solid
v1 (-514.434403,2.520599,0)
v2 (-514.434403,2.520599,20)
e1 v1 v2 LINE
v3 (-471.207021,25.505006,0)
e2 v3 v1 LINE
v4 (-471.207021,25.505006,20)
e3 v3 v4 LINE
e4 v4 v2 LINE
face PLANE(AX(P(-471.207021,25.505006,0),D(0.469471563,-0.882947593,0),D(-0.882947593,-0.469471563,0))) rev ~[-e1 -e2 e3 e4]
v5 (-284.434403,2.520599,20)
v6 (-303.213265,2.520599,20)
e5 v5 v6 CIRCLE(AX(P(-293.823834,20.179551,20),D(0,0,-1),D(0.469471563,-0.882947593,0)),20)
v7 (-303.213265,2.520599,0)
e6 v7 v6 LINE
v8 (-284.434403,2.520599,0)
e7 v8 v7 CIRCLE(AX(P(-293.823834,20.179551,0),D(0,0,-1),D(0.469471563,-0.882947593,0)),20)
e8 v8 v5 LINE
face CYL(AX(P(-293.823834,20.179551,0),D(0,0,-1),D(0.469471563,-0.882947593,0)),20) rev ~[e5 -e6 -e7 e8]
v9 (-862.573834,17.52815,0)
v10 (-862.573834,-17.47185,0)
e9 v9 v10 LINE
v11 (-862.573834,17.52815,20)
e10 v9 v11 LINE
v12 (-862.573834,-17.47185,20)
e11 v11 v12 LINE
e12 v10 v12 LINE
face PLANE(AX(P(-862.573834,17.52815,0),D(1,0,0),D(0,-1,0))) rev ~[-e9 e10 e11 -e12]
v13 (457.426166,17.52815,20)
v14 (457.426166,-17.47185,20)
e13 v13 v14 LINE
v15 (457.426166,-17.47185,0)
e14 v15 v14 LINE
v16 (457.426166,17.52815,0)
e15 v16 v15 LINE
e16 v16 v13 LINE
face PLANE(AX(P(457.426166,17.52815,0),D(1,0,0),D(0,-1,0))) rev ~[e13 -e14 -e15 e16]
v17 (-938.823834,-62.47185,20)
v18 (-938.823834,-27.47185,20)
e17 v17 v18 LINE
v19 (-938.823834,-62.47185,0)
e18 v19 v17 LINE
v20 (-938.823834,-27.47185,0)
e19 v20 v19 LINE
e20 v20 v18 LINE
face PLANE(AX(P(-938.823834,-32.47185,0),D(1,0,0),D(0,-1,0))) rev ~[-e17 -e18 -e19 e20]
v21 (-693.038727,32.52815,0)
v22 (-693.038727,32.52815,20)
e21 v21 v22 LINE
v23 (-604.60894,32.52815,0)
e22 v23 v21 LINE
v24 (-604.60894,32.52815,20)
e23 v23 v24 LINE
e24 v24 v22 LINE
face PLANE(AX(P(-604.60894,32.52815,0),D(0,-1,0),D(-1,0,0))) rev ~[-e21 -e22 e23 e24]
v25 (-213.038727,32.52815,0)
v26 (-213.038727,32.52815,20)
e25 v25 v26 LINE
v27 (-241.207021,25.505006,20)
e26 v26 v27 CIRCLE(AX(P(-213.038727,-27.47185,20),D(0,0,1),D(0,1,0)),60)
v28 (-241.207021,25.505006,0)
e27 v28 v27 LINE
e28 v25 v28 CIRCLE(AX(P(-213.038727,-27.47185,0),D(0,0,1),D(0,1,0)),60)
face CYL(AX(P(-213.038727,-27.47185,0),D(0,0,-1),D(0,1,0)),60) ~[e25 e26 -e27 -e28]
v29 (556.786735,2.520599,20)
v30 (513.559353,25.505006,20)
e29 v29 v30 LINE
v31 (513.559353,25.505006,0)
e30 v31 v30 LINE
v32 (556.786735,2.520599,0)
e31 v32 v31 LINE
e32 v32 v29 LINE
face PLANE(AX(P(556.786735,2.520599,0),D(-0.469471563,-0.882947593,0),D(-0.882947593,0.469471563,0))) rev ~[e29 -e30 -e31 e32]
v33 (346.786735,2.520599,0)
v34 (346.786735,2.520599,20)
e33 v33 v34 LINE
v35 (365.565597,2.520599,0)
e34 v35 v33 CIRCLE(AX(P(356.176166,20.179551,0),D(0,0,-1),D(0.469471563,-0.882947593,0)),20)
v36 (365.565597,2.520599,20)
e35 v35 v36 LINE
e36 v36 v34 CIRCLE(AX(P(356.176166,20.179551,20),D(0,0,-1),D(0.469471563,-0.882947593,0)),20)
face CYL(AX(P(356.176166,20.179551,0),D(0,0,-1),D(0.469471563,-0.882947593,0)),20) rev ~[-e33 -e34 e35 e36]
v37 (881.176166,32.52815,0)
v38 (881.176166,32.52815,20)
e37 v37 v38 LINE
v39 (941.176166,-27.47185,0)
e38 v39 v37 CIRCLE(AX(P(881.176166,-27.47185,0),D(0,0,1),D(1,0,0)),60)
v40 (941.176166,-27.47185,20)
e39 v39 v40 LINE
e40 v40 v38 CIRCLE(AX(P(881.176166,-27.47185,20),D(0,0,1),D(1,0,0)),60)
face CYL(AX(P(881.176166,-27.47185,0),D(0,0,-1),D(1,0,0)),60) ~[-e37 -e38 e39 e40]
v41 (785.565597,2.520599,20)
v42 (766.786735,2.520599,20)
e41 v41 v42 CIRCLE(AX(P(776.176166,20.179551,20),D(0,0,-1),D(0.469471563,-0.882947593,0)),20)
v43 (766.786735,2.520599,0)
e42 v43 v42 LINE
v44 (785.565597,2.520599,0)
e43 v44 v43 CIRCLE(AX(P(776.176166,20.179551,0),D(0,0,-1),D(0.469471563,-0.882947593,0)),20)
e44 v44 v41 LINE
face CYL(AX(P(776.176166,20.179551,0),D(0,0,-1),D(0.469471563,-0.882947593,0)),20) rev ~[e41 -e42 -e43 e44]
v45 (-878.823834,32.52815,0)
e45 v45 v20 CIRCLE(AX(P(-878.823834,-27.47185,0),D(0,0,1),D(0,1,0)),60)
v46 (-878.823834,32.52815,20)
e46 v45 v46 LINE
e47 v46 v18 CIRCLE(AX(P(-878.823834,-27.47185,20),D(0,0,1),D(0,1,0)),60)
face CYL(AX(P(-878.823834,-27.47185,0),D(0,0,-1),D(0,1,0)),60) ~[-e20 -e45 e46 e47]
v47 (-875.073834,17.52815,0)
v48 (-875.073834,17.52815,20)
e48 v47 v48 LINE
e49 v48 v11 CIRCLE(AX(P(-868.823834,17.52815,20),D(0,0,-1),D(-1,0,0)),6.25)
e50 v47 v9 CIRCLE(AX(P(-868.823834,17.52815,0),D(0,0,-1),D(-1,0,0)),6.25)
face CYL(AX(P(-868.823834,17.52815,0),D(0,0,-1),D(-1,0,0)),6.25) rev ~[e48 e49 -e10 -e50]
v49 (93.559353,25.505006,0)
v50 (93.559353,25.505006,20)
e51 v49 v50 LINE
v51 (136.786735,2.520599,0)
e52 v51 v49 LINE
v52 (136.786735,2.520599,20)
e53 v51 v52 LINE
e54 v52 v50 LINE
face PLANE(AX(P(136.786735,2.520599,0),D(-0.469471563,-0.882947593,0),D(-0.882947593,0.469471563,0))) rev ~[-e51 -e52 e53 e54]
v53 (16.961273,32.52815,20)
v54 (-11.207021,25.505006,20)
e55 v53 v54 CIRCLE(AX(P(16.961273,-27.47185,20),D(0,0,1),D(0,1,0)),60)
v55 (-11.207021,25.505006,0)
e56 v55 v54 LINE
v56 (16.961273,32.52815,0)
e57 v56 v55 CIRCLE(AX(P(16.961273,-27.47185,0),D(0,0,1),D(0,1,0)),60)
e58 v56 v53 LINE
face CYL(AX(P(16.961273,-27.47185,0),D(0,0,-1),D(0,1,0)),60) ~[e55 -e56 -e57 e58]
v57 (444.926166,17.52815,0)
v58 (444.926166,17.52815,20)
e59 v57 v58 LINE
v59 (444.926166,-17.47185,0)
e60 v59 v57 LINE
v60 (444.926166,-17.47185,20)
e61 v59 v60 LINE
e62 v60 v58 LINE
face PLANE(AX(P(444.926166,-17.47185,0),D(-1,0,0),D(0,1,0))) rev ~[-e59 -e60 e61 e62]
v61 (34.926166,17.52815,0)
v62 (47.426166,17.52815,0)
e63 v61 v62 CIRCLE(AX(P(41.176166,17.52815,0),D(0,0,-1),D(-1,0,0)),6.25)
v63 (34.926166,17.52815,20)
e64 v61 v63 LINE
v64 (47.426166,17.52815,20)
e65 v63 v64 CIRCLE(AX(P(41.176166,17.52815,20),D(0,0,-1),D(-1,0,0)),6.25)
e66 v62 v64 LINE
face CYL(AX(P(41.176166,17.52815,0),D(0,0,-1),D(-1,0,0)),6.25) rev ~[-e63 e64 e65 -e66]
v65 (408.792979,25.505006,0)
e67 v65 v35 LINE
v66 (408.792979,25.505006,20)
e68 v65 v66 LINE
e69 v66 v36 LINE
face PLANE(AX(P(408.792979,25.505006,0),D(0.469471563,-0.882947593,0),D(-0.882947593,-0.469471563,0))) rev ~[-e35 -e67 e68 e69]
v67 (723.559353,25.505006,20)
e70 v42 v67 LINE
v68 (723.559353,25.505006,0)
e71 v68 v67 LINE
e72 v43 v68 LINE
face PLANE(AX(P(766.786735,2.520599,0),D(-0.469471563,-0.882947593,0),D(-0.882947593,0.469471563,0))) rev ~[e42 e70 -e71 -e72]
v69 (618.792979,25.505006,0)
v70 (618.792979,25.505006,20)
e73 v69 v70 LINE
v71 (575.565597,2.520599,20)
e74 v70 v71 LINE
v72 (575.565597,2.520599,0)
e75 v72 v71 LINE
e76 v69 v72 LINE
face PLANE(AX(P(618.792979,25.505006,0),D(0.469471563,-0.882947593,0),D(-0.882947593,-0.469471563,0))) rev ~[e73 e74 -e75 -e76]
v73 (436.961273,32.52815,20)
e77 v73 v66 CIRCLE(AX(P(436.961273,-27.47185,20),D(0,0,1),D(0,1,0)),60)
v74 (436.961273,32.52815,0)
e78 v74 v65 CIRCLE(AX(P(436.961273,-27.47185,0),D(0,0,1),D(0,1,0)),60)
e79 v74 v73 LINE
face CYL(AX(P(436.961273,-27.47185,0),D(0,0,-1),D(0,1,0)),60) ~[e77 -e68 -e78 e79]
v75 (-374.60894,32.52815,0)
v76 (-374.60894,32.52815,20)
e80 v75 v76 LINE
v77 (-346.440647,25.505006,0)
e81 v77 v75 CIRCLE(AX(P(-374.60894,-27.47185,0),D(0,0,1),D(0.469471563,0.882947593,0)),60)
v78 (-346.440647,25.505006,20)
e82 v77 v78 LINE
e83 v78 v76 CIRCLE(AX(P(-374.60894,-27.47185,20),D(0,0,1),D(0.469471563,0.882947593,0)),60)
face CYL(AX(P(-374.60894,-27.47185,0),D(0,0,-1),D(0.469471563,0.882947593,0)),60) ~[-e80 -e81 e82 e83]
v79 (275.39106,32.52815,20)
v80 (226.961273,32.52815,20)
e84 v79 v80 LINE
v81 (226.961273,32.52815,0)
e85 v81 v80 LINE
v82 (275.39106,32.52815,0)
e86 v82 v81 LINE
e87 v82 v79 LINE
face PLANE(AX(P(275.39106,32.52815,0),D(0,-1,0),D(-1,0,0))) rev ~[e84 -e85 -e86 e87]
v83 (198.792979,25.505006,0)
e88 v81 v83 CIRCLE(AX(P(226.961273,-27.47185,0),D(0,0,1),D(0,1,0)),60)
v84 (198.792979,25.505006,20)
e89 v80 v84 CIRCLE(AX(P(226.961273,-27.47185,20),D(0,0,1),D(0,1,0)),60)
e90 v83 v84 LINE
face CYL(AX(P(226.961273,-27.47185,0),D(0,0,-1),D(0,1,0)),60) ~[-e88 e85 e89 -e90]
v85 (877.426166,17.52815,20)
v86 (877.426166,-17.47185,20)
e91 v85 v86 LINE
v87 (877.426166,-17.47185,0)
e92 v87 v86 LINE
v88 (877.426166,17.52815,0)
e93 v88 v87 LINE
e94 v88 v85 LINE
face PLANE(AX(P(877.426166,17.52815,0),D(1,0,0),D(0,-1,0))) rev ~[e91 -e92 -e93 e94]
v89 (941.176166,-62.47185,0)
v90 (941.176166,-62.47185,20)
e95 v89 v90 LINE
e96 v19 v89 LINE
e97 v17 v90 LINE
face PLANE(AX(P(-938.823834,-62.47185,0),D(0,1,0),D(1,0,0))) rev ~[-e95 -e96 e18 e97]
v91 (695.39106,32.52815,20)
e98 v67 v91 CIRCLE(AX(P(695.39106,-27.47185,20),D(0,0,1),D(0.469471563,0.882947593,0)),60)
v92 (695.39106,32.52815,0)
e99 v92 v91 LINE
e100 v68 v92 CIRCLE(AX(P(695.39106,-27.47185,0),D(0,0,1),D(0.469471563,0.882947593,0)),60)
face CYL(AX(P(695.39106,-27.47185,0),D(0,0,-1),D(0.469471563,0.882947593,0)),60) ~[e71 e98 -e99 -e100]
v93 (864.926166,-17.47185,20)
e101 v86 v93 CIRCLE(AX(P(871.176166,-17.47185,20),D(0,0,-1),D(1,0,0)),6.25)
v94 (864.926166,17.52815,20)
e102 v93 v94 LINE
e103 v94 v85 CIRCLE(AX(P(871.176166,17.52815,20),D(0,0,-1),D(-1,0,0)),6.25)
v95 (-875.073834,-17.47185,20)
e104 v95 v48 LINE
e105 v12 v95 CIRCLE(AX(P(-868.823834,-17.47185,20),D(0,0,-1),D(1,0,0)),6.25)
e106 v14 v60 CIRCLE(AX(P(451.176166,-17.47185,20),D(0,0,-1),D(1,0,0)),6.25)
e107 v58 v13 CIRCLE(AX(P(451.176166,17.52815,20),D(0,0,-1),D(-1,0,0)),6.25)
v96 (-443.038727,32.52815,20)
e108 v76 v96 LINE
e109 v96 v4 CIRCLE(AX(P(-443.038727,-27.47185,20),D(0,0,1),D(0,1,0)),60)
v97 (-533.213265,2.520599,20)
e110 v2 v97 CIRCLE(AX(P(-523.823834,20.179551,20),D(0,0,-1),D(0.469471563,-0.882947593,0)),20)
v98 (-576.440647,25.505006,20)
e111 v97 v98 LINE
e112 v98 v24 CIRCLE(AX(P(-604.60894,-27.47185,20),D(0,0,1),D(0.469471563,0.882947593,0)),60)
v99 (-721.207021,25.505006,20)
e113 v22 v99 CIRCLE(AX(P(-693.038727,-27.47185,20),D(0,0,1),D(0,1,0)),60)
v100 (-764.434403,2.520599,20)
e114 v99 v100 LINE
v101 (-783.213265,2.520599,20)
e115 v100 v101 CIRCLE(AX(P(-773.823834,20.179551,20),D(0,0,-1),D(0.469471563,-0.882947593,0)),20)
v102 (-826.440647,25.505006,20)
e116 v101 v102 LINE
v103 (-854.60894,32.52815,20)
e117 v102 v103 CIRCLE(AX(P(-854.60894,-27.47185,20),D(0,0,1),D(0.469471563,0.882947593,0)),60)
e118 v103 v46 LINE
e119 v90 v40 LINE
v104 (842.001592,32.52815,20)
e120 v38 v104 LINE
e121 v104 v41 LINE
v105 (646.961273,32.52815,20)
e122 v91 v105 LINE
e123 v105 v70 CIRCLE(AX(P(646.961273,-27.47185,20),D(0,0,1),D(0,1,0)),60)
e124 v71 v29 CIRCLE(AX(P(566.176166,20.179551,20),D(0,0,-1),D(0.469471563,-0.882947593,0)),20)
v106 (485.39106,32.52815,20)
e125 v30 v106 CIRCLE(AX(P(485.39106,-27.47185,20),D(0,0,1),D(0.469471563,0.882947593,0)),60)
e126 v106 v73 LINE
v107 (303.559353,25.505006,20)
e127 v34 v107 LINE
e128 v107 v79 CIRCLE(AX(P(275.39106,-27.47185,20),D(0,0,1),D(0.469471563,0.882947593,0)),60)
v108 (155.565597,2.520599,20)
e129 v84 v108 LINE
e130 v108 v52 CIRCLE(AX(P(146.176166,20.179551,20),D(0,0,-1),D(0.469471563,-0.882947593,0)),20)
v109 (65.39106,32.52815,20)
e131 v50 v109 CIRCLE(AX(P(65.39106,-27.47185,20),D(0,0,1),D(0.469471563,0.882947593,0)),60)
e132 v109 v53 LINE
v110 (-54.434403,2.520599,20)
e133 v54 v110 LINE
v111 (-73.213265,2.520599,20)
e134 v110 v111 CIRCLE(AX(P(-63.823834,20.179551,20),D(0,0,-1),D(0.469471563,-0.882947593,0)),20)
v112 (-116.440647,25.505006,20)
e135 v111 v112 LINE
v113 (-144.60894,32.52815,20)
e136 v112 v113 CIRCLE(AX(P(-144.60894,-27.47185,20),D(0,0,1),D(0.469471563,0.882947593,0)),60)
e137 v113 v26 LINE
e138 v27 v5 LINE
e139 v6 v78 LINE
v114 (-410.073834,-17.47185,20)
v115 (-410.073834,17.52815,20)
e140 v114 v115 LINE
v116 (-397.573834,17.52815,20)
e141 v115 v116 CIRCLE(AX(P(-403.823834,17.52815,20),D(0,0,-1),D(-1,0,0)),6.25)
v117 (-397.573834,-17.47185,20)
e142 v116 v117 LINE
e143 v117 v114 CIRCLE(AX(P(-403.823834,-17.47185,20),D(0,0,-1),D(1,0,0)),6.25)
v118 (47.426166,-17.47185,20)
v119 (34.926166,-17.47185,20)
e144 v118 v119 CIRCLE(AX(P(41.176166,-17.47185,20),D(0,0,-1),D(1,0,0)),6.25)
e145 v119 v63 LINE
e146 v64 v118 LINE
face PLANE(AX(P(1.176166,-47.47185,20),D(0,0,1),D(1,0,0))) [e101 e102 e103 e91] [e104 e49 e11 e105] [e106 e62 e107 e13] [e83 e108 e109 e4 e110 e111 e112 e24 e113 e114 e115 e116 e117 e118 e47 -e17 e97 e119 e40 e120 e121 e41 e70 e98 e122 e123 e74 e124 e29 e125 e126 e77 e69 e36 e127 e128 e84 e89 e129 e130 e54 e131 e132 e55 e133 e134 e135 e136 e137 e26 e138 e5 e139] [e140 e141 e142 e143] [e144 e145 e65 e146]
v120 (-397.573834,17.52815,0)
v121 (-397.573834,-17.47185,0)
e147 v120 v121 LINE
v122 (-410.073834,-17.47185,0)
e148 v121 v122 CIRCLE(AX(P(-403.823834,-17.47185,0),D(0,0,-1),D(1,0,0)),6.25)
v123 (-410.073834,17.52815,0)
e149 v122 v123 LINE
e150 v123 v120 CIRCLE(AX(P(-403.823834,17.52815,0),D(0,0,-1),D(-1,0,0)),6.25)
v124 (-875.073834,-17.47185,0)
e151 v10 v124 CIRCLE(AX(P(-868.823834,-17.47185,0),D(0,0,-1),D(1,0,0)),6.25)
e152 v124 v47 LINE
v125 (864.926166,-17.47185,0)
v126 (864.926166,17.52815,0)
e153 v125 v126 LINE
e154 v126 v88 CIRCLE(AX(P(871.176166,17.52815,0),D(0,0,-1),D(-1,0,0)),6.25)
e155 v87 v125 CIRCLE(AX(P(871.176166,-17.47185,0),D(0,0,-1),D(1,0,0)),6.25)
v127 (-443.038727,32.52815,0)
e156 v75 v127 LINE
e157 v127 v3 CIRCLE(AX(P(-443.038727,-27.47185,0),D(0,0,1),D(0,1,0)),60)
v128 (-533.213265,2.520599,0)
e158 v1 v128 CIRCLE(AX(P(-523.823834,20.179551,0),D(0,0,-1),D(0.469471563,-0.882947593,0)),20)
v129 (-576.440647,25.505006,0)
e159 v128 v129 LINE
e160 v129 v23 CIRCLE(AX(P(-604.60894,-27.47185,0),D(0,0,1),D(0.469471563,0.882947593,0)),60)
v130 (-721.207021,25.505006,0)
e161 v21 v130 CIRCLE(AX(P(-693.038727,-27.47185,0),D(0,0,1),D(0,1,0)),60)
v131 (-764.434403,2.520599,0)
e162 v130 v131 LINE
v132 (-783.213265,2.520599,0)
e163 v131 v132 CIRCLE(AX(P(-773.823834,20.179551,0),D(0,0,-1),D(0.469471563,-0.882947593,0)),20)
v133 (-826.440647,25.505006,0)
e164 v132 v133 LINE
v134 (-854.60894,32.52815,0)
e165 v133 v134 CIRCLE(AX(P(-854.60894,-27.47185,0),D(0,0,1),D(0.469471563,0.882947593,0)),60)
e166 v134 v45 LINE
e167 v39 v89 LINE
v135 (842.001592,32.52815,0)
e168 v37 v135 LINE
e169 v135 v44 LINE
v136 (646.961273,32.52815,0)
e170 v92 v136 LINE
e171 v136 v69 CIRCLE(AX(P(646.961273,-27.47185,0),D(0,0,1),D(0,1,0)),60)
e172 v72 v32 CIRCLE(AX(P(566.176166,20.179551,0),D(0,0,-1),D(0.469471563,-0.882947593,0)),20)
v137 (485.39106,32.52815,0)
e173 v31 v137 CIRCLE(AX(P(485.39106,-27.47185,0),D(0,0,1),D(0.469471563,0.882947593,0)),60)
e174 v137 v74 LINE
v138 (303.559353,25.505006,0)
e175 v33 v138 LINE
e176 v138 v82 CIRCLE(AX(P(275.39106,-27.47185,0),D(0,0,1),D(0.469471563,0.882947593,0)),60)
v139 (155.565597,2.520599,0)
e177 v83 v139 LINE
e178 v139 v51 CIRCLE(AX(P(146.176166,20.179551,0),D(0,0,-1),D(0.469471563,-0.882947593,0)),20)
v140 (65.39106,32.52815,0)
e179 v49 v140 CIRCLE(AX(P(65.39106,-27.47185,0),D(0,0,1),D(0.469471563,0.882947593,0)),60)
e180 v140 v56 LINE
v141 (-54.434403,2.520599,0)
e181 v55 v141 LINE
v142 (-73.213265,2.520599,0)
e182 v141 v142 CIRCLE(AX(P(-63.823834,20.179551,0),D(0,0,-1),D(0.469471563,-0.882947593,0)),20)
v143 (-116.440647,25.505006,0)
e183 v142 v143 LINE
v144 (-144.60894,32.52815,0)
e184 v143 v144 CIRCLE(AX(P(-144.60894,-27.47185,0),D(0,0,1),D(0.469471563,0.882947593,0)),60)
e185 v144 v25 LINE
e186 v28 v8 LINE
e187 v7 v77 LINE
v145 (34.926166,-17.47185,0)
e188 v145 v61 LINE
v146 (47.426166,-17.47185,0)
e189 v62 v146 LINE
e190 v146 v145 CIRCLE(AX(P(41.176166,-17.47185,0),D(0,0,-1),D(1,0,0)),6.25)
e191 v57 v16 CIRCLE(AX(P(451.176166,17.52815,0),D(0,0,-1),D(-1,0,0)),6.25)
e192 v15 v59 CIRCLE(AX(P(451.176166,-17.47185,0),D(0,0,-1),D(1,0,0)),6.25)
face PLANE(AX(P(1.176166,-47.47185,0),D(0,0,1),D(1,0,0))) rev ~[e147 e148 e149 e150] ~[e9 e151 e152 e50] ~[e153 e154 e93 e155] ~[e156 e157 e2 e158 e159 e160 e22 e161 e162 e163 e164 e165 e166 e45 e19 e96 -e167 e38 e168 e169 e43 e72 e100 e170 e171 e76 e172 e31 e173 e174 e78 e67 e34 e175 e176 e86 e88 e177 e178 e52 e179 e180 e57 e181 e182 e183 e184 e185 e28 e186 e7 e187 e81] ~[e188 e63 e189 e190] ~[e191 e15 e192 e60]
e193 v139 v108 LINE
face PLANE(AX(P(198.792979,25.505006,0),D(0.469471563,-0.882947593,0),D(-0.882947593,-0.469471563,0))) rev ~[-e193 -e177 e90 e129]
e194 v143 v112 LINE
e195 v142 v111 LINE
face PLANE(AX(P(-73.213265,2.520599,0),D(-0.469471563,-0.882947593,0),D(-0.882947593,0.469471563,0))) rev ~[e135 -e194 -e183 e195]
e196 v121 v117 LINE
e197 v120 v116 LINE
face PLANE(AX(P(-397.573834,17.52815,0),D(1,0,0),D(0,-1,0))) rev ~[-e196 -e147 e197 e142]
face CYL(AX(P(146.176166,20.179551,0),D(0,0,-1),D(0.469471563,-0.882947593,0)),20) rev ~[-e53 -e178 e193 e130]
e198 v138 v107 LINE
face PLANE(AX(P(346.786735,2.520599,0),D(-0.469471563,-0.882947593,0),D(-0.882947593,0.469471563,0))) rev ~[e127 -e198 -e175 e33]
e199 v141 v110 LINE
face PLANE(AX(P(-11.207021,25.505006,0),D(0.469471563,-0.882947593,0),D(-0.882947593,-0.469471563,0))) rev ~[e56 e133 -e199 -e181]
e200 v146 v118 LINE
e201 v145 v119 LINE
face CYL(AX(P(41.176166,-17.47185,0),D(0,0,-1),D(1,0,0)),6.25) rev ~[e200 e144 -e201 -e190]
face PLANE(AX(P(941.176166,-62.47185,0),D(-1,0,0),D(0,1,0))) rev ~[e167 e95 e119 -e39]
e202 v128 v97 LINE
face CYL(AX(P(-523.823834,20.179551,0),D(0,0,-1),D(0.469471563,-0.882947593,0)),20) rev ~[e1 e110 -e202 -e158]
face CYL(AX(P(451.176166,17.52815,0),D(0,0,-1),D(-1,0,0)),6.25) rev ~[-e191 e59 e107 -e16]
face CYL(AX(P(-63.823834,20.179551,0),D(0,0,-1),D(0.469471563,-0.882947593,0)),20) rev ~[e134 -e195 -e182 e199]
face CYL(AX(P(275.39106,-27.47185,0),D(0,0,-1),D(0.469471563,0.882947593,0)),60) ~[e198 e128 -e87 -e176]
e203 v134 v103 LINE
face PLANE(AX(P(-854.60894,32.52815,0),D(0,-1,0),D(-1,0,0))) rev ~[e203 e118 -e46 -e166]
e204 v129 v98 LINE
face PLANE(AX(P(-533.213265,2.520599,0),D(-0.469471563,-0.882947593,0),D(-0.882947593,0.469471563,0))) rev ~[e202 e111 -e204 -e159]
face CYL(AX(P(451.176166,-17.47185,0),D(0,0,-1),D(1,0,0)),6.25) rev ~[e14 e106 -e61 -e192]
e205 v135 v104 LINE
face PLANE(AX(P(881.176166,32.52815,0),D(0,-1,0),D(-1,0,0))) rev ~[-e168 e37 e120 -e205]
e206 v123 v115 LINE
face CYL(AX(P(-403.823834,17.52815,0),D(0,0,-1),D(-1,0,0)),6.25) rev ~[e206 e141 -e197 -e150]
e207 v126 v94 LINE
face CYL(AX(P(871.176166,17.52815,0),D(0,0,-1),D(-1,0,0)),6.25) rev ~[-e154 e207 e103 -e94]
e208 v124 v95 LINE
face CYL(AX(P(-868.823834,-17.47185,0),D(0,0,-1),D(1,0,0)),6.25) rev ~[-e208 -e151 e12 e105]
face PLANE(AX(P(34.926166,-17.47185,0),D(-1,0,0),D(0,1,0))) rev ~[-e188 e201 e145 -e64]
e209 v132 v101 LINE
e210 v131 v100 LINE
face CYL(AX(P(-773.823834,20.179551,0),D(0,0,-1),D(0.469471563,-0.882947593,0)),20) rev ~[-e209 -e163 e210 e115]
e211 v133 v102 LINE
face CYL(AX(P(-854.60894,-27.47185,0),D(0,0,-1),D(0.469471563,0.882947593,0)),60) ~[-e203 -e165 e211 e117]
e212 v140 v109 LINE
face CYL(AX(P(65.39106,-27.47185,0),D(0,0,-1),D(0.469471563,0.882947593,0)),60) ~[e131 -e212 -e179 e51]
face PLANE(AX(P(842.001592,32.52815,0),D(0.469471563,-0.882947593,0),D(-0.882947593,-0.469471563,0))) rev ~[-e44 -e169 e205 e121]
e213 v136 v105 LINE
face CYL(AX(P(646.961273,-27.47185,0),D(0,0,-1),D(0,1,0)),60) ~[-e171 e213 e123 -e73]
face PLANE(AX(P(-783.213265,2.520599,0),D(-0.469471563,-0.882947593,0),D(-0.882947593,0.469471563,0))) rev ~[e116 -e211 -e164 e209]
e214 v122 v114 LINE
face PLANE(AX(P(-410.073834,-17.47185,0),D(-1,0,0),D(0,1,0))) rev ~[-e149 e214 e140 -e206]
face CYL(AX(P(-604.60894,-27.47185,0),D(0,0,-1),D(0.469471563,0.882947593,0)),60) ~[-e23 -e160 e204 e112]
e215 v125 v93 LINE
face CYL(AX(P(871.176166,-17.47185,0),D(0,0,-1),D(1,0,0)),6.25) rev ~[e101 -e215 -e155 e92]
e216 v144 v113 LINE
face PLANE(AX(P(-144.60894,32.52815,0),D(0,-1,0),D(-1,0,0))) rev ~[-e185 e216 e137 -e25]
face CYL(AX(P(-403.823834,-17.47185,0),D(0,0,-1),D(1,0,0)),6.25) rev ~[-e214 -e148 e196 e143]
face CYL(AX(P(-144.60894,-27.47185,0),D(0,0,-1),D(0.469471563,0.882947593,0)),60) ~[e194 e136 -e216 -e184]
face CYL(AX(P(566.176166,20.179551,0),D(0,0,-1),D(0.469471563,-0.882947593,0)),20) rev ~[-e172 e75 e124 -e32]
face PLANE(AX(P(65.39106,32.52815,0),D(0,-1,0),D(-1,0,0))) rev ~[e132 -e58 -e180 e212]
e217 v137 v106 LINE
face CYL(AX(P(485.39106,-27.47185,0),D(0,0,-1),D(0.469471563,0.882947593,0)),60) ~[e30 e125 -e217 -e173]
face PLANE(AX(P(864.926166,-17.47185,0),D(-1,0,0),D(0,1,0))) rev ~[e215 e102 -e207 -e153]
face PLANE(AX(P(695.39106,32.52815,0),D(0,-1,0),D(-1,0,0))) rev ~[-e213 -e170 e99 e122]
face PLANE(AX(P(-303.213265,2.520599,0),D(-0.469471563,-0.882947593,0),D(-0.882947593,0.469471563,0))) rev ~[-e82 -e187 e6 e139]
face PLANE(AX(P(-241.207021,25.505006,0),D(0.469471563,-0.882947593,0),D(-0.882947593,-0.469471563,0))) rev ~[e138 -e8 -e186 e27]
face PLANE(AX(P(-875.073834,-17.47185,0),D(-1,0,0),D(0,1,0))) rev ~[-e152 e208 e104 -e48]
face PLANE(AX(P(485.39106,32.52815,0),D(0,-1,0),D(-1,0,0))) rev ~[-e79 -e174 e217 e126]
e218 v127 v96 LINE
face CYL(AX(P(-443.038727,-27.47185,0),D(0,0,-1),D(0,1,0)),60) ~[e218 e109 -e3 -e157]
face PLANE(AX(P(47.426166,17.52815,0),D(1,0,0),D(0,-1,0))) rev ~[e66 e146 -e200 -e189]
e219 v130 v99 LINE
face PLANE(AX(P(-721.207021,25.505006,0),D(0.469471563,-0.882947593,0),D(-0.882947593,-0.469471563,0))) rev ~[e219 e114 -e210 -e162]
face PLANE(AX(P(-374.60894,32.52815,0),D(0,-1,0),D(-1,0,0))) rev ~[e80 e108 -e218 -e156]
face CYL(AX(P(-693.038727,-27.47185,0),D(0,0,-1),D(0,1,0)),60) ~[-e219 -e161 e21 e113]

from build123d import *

# Parameters (mm, degrees)
RESSALTO_EXTRUS_O1_DEPTH = 20


with BuildPart() as part:
    # Esboço1 → Ressalto-extrusão1 (new body)
    # profile 1 of 2: a face of its own
    with BuildSketch(Plane.XY):
        with BuildLine():
            Line((-938.823833844, -27.471849847), (-938.823833844, -32.471849847))
            Line((-938.823833844, -32.471849847), (-936.823833844, -32.471849847))
            Line((-936.823833844, -32.471849847), (941.176166156, -32.471849847))
            Line((941.176166156, -32.471849847), (941.176166156, -27.471849847))
            ThreePointArc((941.176166156, -27.471849847), (923.602573027, 14.954557024), (881.176166156, 32.528150153))
            Line((881.176166156, 32.528150153), (846.261701379, 32.528150153))
            Line((846.261701379, 32.528150153), (842.001592443, 32.528150153))
            Line((842.001592443, 32.528150153), (785.565597412, 2.52059931))
            ThreePointArc((785.565597412, 2.52059931), (776.176166156, 0.179551167), (766.7867349, 2.52059931))
            Line((766.7867349, 2.52059931), (723.559353465, 25.505005725))
            ThreePointArc((723.559353465, 25.505005725), (709.906373434, 30.74589373), (695.391059698, 32.528150153))
            Line((695.391059698, 32.528150153), (646.961272614, 32.528150153))
            ThreePointArc((646.961272614, 32.528150153), (632.445958878, 30.74589373), (618.792978847, 25.505005725))
            Line((618.792978847, 25.505005725), (575.565597412, 2.52059931))
            ThreePointArc((575.565597412, 2.52059931), (566.176166156, 0.179551167), (556.7867349, 2.52059931))
            Line((556.7867349, 2.52059931), (513.559353465, 25.505005725))
            ThreePointArc((513.559353465, 25.505005725), (499.906373434, 30.74589373), (485.391059698, 32.528150153))
            Line((485.391059698, 32.528150153), (436.961272614, 32.528150153))
            ThreePointArc((436.961272614, 32.528150153), (422.445958878, 30.74589373), (408.792978847, 25.505005725))
            Line((408.792978847, 25.505005725), (365.565597412, 2.52059931))
            ThreePointArc((365.565597412, 2.52059931), (356.176166156, 0.179551167), (346.7867349, 2.52059931))
            Line((346.7867349, 2.52059931), (303.559353465, 25.505005725))
            ThreePointArc((303.559353465, 25.505005725), (289.906373434, 30.74589373), (275.391059698, 32.528150153))
            Line((275.391059698, 32.528150153), (226.961272614, 32.528150153))
            ThreePointArc((226.961272614, 32.528150153), (212.445958878, 30.74589373), (198.792978847, 25.505005725))
            Line((198.792978847, 25.505005725), (155.565597412, 2.52059931))
            ThreePointArc((155.565597412, 2.52059931), (146.176166156, 0.179551167), (136.7867349, 2.52059931))
            Line((136.7867349, 2.52059931), (93.559353465, 25.505005725))
            ThreePointArc((93.559353465, 25.505005725), (79.906373434, 30.74589373), (65.391059698, 32.528150153))
            Line((65.391059698, 32.528150153), (16.961272614, 32.528150153))
            ThreePointArc((16.961272614, 32.528150153), (2.445958878, 30.74589373), (-11.207021153, 25.505005725))
            Line((-11.207021153, 25.505005725), (-54.434402588, 2.52059931))
            ThreePointArc((-54.434402588, 2.52059931), (-63.823833844, 0.179551167), (-73.2132651, 2.52059931))
            Line((-73.2132651, 2.52059931), (-116.440646535, 25.505005725))
            ThreePointArc((-116.440646535, 25.505005725), (-130.093626566, 30.74589373), (-144.608940302, 32.528150153))
            Line((-144.608940302, 32.528150153), (-213.038727386, 32.528150153))
            ThreePointArc((-213.038727386, 32.528150153), (-227.554041122, 30.74589373), (-241.207021153, 25.505005725))
            Line((-241.207021153, 25.505005725), (-284.434402588, 2.52059931))
            ThreePointArc((-284.434402588, 2.52059931), (-293.823833844, 0.179551167), (-303.2132651, 2.52059931))
            Line((-303.2132651, 2.52059931), (-346.440646535, 25.505005725))
            ThreePointArc((-346.440646535, 25.505005725), (-360.093626566, 30.74589373), (-374.608940302, 32.528150153))
            Line((-374.608940302, 32.528150153), (-443.038727386, 32.528150153))
            ThreePointArc((-443.038727386, 32.528150153), (-457.554041122, 30.74589373), (-471.207021153, 25.505005725))
            Line((-471.207021153, 25.505005725), (-514.434402588, 2.52059931))
            ThreePointArc((-514.434402588, 2.52059931), (-523.823833844, 0.179551167), (-533.2132651, 2.52059931))
            Line((-533.2132651, 2.52059931), (-576.440646535, 25.505005725))
            ThreePointArc((-576.440646535, 25.505005725), (-590.093626566, 30.74589373), (-604.608940302, 32.528150153))
            Line((-604.608940302, 32.528150153), (-693.038727386, 32.528150153))
            ThreePointArc((-693.038727386, 32.528150153), (-707.554041122, 30.74589373), (-721.207021153, 25.505005725))
            Line((-721.207021153, 25.505005725), (-764.434402588, 2.52059931))
            ThreePointArc((-764.434402588, 2.52059931), (-773.823833844, 0.179551167), (-783.2132651, 2.52059931))
            Line((-783.2132651, 2.52059931), (-826.440646535, 25.505005725))
            ThreePointArc((-826.440646535, 25.505005725), (-840.093626566, 30.74589373), (-854.608940302, 32.528150153))
            Line((-854.608940302, 32.528150153), (-878.823833844, 32.528150153))
            ThreePointArc((-878.823833844, 32.528150153), (-921.250240715, 14.954557024), (-938.823833844, -27.471849847))
        make_face()
        with BuildLine():
            ThreePointArc((-875.073833844, 17.528150153), (-868.823833844, 23.778150153), (-862.573833844, 17.528150153))
            Line((-862.573833844, 17.528150153), (-862.573833844, -17.471849847))
            ThreePointArc((-862.573833844, -17.471849847), (-868.823833844, -23.721849847), (-875.073833844, -17.471849847))
            Line((-875.073833844, -17.471849847), (-875.073833844, 17.528150153))
        make_face(mode=Mode.SUBTRACT)
        with BuildLine():
            ThreePointArc((-410.073833844, 17.528150153), (-403.823833844, 23.778150153), (-397.573833844, 17.528150153))
            Line((-397.573833844, 17.528150153), (-397.573833844, -17.471849847))
            ThreePointArc((-397.573833844, -17.471849847), (-403.823833844, -23.721849847), (-410.073833844, -17.471849847))
            Line((-410.073833844, -17.471849847), (-410.073833844, 17.528150153))
        make_face(mode=Mode.SUBTRACT)
        with BuildLine():
            ThreePointArc((47.426166156, -17.471849847), (41.176166156, -23.721849847), (34.926166156, -17.471849847))
            Line((34.926166156, -17.471849847), (34.926166156, 17.528150153))
            ThreePointArc((34.926166156, 17.528150153), (41.176166156, 23.778150153), (47.426166156, 17.528150153))
            Line((47.426166156, 17.528150153), (47.426166156, -17.471849847))
        make_face(mode=Mode.SUBTRACT)
        with BuildLine():
            ThreePointArc((444.926166156, 17.528150153), (451.176166156, 23.778150153), (457.426166156, 17.528150153))
            Line((457.426166156, 17.528150153), (457.426166156, -17.471849847))
            ThreePointArc((457.426166156, -17.471849847), (451.176166156, -23.721849847), (444.926166156, -17.471849847))
            Line((444.926166156, -17.471849847), (444.926166156, 17.528150153))
        make_face(mode=Mode.SUBTRACT)
        with BuildLine():
            ThreePointArc((877.426166156, -17.471849847), (871.176166156, -23.721849847), (864.926166156, -17.471849847))
            Line((864.926166156, -17.471849847), (864.926166156, 17.528150153))
            ThreePointArc((864.926166156, 17.528150153), (871.176166156, 23.778150153), (877.426166156, 17.528150153))
            Line((877.426166156, 17.528150153), (877.426166156, -17.471849847))
        make_face(mode=Mode.SUBTRACT)
    # profile 2 of 2: a face of its own
    with BuildSketch(Plane.XY):
        Polygon((-936.823833844, -32.471849847), (-938.823833844, -32.471849847), (-938.823833844, -62.471849847), (941.176166156, -62.471849847), (941.176166156, -32.471849847), align=None)
    extrude(amount=RESSALTO_EXTRUS_O1_DEPTH)


solid = part.part
